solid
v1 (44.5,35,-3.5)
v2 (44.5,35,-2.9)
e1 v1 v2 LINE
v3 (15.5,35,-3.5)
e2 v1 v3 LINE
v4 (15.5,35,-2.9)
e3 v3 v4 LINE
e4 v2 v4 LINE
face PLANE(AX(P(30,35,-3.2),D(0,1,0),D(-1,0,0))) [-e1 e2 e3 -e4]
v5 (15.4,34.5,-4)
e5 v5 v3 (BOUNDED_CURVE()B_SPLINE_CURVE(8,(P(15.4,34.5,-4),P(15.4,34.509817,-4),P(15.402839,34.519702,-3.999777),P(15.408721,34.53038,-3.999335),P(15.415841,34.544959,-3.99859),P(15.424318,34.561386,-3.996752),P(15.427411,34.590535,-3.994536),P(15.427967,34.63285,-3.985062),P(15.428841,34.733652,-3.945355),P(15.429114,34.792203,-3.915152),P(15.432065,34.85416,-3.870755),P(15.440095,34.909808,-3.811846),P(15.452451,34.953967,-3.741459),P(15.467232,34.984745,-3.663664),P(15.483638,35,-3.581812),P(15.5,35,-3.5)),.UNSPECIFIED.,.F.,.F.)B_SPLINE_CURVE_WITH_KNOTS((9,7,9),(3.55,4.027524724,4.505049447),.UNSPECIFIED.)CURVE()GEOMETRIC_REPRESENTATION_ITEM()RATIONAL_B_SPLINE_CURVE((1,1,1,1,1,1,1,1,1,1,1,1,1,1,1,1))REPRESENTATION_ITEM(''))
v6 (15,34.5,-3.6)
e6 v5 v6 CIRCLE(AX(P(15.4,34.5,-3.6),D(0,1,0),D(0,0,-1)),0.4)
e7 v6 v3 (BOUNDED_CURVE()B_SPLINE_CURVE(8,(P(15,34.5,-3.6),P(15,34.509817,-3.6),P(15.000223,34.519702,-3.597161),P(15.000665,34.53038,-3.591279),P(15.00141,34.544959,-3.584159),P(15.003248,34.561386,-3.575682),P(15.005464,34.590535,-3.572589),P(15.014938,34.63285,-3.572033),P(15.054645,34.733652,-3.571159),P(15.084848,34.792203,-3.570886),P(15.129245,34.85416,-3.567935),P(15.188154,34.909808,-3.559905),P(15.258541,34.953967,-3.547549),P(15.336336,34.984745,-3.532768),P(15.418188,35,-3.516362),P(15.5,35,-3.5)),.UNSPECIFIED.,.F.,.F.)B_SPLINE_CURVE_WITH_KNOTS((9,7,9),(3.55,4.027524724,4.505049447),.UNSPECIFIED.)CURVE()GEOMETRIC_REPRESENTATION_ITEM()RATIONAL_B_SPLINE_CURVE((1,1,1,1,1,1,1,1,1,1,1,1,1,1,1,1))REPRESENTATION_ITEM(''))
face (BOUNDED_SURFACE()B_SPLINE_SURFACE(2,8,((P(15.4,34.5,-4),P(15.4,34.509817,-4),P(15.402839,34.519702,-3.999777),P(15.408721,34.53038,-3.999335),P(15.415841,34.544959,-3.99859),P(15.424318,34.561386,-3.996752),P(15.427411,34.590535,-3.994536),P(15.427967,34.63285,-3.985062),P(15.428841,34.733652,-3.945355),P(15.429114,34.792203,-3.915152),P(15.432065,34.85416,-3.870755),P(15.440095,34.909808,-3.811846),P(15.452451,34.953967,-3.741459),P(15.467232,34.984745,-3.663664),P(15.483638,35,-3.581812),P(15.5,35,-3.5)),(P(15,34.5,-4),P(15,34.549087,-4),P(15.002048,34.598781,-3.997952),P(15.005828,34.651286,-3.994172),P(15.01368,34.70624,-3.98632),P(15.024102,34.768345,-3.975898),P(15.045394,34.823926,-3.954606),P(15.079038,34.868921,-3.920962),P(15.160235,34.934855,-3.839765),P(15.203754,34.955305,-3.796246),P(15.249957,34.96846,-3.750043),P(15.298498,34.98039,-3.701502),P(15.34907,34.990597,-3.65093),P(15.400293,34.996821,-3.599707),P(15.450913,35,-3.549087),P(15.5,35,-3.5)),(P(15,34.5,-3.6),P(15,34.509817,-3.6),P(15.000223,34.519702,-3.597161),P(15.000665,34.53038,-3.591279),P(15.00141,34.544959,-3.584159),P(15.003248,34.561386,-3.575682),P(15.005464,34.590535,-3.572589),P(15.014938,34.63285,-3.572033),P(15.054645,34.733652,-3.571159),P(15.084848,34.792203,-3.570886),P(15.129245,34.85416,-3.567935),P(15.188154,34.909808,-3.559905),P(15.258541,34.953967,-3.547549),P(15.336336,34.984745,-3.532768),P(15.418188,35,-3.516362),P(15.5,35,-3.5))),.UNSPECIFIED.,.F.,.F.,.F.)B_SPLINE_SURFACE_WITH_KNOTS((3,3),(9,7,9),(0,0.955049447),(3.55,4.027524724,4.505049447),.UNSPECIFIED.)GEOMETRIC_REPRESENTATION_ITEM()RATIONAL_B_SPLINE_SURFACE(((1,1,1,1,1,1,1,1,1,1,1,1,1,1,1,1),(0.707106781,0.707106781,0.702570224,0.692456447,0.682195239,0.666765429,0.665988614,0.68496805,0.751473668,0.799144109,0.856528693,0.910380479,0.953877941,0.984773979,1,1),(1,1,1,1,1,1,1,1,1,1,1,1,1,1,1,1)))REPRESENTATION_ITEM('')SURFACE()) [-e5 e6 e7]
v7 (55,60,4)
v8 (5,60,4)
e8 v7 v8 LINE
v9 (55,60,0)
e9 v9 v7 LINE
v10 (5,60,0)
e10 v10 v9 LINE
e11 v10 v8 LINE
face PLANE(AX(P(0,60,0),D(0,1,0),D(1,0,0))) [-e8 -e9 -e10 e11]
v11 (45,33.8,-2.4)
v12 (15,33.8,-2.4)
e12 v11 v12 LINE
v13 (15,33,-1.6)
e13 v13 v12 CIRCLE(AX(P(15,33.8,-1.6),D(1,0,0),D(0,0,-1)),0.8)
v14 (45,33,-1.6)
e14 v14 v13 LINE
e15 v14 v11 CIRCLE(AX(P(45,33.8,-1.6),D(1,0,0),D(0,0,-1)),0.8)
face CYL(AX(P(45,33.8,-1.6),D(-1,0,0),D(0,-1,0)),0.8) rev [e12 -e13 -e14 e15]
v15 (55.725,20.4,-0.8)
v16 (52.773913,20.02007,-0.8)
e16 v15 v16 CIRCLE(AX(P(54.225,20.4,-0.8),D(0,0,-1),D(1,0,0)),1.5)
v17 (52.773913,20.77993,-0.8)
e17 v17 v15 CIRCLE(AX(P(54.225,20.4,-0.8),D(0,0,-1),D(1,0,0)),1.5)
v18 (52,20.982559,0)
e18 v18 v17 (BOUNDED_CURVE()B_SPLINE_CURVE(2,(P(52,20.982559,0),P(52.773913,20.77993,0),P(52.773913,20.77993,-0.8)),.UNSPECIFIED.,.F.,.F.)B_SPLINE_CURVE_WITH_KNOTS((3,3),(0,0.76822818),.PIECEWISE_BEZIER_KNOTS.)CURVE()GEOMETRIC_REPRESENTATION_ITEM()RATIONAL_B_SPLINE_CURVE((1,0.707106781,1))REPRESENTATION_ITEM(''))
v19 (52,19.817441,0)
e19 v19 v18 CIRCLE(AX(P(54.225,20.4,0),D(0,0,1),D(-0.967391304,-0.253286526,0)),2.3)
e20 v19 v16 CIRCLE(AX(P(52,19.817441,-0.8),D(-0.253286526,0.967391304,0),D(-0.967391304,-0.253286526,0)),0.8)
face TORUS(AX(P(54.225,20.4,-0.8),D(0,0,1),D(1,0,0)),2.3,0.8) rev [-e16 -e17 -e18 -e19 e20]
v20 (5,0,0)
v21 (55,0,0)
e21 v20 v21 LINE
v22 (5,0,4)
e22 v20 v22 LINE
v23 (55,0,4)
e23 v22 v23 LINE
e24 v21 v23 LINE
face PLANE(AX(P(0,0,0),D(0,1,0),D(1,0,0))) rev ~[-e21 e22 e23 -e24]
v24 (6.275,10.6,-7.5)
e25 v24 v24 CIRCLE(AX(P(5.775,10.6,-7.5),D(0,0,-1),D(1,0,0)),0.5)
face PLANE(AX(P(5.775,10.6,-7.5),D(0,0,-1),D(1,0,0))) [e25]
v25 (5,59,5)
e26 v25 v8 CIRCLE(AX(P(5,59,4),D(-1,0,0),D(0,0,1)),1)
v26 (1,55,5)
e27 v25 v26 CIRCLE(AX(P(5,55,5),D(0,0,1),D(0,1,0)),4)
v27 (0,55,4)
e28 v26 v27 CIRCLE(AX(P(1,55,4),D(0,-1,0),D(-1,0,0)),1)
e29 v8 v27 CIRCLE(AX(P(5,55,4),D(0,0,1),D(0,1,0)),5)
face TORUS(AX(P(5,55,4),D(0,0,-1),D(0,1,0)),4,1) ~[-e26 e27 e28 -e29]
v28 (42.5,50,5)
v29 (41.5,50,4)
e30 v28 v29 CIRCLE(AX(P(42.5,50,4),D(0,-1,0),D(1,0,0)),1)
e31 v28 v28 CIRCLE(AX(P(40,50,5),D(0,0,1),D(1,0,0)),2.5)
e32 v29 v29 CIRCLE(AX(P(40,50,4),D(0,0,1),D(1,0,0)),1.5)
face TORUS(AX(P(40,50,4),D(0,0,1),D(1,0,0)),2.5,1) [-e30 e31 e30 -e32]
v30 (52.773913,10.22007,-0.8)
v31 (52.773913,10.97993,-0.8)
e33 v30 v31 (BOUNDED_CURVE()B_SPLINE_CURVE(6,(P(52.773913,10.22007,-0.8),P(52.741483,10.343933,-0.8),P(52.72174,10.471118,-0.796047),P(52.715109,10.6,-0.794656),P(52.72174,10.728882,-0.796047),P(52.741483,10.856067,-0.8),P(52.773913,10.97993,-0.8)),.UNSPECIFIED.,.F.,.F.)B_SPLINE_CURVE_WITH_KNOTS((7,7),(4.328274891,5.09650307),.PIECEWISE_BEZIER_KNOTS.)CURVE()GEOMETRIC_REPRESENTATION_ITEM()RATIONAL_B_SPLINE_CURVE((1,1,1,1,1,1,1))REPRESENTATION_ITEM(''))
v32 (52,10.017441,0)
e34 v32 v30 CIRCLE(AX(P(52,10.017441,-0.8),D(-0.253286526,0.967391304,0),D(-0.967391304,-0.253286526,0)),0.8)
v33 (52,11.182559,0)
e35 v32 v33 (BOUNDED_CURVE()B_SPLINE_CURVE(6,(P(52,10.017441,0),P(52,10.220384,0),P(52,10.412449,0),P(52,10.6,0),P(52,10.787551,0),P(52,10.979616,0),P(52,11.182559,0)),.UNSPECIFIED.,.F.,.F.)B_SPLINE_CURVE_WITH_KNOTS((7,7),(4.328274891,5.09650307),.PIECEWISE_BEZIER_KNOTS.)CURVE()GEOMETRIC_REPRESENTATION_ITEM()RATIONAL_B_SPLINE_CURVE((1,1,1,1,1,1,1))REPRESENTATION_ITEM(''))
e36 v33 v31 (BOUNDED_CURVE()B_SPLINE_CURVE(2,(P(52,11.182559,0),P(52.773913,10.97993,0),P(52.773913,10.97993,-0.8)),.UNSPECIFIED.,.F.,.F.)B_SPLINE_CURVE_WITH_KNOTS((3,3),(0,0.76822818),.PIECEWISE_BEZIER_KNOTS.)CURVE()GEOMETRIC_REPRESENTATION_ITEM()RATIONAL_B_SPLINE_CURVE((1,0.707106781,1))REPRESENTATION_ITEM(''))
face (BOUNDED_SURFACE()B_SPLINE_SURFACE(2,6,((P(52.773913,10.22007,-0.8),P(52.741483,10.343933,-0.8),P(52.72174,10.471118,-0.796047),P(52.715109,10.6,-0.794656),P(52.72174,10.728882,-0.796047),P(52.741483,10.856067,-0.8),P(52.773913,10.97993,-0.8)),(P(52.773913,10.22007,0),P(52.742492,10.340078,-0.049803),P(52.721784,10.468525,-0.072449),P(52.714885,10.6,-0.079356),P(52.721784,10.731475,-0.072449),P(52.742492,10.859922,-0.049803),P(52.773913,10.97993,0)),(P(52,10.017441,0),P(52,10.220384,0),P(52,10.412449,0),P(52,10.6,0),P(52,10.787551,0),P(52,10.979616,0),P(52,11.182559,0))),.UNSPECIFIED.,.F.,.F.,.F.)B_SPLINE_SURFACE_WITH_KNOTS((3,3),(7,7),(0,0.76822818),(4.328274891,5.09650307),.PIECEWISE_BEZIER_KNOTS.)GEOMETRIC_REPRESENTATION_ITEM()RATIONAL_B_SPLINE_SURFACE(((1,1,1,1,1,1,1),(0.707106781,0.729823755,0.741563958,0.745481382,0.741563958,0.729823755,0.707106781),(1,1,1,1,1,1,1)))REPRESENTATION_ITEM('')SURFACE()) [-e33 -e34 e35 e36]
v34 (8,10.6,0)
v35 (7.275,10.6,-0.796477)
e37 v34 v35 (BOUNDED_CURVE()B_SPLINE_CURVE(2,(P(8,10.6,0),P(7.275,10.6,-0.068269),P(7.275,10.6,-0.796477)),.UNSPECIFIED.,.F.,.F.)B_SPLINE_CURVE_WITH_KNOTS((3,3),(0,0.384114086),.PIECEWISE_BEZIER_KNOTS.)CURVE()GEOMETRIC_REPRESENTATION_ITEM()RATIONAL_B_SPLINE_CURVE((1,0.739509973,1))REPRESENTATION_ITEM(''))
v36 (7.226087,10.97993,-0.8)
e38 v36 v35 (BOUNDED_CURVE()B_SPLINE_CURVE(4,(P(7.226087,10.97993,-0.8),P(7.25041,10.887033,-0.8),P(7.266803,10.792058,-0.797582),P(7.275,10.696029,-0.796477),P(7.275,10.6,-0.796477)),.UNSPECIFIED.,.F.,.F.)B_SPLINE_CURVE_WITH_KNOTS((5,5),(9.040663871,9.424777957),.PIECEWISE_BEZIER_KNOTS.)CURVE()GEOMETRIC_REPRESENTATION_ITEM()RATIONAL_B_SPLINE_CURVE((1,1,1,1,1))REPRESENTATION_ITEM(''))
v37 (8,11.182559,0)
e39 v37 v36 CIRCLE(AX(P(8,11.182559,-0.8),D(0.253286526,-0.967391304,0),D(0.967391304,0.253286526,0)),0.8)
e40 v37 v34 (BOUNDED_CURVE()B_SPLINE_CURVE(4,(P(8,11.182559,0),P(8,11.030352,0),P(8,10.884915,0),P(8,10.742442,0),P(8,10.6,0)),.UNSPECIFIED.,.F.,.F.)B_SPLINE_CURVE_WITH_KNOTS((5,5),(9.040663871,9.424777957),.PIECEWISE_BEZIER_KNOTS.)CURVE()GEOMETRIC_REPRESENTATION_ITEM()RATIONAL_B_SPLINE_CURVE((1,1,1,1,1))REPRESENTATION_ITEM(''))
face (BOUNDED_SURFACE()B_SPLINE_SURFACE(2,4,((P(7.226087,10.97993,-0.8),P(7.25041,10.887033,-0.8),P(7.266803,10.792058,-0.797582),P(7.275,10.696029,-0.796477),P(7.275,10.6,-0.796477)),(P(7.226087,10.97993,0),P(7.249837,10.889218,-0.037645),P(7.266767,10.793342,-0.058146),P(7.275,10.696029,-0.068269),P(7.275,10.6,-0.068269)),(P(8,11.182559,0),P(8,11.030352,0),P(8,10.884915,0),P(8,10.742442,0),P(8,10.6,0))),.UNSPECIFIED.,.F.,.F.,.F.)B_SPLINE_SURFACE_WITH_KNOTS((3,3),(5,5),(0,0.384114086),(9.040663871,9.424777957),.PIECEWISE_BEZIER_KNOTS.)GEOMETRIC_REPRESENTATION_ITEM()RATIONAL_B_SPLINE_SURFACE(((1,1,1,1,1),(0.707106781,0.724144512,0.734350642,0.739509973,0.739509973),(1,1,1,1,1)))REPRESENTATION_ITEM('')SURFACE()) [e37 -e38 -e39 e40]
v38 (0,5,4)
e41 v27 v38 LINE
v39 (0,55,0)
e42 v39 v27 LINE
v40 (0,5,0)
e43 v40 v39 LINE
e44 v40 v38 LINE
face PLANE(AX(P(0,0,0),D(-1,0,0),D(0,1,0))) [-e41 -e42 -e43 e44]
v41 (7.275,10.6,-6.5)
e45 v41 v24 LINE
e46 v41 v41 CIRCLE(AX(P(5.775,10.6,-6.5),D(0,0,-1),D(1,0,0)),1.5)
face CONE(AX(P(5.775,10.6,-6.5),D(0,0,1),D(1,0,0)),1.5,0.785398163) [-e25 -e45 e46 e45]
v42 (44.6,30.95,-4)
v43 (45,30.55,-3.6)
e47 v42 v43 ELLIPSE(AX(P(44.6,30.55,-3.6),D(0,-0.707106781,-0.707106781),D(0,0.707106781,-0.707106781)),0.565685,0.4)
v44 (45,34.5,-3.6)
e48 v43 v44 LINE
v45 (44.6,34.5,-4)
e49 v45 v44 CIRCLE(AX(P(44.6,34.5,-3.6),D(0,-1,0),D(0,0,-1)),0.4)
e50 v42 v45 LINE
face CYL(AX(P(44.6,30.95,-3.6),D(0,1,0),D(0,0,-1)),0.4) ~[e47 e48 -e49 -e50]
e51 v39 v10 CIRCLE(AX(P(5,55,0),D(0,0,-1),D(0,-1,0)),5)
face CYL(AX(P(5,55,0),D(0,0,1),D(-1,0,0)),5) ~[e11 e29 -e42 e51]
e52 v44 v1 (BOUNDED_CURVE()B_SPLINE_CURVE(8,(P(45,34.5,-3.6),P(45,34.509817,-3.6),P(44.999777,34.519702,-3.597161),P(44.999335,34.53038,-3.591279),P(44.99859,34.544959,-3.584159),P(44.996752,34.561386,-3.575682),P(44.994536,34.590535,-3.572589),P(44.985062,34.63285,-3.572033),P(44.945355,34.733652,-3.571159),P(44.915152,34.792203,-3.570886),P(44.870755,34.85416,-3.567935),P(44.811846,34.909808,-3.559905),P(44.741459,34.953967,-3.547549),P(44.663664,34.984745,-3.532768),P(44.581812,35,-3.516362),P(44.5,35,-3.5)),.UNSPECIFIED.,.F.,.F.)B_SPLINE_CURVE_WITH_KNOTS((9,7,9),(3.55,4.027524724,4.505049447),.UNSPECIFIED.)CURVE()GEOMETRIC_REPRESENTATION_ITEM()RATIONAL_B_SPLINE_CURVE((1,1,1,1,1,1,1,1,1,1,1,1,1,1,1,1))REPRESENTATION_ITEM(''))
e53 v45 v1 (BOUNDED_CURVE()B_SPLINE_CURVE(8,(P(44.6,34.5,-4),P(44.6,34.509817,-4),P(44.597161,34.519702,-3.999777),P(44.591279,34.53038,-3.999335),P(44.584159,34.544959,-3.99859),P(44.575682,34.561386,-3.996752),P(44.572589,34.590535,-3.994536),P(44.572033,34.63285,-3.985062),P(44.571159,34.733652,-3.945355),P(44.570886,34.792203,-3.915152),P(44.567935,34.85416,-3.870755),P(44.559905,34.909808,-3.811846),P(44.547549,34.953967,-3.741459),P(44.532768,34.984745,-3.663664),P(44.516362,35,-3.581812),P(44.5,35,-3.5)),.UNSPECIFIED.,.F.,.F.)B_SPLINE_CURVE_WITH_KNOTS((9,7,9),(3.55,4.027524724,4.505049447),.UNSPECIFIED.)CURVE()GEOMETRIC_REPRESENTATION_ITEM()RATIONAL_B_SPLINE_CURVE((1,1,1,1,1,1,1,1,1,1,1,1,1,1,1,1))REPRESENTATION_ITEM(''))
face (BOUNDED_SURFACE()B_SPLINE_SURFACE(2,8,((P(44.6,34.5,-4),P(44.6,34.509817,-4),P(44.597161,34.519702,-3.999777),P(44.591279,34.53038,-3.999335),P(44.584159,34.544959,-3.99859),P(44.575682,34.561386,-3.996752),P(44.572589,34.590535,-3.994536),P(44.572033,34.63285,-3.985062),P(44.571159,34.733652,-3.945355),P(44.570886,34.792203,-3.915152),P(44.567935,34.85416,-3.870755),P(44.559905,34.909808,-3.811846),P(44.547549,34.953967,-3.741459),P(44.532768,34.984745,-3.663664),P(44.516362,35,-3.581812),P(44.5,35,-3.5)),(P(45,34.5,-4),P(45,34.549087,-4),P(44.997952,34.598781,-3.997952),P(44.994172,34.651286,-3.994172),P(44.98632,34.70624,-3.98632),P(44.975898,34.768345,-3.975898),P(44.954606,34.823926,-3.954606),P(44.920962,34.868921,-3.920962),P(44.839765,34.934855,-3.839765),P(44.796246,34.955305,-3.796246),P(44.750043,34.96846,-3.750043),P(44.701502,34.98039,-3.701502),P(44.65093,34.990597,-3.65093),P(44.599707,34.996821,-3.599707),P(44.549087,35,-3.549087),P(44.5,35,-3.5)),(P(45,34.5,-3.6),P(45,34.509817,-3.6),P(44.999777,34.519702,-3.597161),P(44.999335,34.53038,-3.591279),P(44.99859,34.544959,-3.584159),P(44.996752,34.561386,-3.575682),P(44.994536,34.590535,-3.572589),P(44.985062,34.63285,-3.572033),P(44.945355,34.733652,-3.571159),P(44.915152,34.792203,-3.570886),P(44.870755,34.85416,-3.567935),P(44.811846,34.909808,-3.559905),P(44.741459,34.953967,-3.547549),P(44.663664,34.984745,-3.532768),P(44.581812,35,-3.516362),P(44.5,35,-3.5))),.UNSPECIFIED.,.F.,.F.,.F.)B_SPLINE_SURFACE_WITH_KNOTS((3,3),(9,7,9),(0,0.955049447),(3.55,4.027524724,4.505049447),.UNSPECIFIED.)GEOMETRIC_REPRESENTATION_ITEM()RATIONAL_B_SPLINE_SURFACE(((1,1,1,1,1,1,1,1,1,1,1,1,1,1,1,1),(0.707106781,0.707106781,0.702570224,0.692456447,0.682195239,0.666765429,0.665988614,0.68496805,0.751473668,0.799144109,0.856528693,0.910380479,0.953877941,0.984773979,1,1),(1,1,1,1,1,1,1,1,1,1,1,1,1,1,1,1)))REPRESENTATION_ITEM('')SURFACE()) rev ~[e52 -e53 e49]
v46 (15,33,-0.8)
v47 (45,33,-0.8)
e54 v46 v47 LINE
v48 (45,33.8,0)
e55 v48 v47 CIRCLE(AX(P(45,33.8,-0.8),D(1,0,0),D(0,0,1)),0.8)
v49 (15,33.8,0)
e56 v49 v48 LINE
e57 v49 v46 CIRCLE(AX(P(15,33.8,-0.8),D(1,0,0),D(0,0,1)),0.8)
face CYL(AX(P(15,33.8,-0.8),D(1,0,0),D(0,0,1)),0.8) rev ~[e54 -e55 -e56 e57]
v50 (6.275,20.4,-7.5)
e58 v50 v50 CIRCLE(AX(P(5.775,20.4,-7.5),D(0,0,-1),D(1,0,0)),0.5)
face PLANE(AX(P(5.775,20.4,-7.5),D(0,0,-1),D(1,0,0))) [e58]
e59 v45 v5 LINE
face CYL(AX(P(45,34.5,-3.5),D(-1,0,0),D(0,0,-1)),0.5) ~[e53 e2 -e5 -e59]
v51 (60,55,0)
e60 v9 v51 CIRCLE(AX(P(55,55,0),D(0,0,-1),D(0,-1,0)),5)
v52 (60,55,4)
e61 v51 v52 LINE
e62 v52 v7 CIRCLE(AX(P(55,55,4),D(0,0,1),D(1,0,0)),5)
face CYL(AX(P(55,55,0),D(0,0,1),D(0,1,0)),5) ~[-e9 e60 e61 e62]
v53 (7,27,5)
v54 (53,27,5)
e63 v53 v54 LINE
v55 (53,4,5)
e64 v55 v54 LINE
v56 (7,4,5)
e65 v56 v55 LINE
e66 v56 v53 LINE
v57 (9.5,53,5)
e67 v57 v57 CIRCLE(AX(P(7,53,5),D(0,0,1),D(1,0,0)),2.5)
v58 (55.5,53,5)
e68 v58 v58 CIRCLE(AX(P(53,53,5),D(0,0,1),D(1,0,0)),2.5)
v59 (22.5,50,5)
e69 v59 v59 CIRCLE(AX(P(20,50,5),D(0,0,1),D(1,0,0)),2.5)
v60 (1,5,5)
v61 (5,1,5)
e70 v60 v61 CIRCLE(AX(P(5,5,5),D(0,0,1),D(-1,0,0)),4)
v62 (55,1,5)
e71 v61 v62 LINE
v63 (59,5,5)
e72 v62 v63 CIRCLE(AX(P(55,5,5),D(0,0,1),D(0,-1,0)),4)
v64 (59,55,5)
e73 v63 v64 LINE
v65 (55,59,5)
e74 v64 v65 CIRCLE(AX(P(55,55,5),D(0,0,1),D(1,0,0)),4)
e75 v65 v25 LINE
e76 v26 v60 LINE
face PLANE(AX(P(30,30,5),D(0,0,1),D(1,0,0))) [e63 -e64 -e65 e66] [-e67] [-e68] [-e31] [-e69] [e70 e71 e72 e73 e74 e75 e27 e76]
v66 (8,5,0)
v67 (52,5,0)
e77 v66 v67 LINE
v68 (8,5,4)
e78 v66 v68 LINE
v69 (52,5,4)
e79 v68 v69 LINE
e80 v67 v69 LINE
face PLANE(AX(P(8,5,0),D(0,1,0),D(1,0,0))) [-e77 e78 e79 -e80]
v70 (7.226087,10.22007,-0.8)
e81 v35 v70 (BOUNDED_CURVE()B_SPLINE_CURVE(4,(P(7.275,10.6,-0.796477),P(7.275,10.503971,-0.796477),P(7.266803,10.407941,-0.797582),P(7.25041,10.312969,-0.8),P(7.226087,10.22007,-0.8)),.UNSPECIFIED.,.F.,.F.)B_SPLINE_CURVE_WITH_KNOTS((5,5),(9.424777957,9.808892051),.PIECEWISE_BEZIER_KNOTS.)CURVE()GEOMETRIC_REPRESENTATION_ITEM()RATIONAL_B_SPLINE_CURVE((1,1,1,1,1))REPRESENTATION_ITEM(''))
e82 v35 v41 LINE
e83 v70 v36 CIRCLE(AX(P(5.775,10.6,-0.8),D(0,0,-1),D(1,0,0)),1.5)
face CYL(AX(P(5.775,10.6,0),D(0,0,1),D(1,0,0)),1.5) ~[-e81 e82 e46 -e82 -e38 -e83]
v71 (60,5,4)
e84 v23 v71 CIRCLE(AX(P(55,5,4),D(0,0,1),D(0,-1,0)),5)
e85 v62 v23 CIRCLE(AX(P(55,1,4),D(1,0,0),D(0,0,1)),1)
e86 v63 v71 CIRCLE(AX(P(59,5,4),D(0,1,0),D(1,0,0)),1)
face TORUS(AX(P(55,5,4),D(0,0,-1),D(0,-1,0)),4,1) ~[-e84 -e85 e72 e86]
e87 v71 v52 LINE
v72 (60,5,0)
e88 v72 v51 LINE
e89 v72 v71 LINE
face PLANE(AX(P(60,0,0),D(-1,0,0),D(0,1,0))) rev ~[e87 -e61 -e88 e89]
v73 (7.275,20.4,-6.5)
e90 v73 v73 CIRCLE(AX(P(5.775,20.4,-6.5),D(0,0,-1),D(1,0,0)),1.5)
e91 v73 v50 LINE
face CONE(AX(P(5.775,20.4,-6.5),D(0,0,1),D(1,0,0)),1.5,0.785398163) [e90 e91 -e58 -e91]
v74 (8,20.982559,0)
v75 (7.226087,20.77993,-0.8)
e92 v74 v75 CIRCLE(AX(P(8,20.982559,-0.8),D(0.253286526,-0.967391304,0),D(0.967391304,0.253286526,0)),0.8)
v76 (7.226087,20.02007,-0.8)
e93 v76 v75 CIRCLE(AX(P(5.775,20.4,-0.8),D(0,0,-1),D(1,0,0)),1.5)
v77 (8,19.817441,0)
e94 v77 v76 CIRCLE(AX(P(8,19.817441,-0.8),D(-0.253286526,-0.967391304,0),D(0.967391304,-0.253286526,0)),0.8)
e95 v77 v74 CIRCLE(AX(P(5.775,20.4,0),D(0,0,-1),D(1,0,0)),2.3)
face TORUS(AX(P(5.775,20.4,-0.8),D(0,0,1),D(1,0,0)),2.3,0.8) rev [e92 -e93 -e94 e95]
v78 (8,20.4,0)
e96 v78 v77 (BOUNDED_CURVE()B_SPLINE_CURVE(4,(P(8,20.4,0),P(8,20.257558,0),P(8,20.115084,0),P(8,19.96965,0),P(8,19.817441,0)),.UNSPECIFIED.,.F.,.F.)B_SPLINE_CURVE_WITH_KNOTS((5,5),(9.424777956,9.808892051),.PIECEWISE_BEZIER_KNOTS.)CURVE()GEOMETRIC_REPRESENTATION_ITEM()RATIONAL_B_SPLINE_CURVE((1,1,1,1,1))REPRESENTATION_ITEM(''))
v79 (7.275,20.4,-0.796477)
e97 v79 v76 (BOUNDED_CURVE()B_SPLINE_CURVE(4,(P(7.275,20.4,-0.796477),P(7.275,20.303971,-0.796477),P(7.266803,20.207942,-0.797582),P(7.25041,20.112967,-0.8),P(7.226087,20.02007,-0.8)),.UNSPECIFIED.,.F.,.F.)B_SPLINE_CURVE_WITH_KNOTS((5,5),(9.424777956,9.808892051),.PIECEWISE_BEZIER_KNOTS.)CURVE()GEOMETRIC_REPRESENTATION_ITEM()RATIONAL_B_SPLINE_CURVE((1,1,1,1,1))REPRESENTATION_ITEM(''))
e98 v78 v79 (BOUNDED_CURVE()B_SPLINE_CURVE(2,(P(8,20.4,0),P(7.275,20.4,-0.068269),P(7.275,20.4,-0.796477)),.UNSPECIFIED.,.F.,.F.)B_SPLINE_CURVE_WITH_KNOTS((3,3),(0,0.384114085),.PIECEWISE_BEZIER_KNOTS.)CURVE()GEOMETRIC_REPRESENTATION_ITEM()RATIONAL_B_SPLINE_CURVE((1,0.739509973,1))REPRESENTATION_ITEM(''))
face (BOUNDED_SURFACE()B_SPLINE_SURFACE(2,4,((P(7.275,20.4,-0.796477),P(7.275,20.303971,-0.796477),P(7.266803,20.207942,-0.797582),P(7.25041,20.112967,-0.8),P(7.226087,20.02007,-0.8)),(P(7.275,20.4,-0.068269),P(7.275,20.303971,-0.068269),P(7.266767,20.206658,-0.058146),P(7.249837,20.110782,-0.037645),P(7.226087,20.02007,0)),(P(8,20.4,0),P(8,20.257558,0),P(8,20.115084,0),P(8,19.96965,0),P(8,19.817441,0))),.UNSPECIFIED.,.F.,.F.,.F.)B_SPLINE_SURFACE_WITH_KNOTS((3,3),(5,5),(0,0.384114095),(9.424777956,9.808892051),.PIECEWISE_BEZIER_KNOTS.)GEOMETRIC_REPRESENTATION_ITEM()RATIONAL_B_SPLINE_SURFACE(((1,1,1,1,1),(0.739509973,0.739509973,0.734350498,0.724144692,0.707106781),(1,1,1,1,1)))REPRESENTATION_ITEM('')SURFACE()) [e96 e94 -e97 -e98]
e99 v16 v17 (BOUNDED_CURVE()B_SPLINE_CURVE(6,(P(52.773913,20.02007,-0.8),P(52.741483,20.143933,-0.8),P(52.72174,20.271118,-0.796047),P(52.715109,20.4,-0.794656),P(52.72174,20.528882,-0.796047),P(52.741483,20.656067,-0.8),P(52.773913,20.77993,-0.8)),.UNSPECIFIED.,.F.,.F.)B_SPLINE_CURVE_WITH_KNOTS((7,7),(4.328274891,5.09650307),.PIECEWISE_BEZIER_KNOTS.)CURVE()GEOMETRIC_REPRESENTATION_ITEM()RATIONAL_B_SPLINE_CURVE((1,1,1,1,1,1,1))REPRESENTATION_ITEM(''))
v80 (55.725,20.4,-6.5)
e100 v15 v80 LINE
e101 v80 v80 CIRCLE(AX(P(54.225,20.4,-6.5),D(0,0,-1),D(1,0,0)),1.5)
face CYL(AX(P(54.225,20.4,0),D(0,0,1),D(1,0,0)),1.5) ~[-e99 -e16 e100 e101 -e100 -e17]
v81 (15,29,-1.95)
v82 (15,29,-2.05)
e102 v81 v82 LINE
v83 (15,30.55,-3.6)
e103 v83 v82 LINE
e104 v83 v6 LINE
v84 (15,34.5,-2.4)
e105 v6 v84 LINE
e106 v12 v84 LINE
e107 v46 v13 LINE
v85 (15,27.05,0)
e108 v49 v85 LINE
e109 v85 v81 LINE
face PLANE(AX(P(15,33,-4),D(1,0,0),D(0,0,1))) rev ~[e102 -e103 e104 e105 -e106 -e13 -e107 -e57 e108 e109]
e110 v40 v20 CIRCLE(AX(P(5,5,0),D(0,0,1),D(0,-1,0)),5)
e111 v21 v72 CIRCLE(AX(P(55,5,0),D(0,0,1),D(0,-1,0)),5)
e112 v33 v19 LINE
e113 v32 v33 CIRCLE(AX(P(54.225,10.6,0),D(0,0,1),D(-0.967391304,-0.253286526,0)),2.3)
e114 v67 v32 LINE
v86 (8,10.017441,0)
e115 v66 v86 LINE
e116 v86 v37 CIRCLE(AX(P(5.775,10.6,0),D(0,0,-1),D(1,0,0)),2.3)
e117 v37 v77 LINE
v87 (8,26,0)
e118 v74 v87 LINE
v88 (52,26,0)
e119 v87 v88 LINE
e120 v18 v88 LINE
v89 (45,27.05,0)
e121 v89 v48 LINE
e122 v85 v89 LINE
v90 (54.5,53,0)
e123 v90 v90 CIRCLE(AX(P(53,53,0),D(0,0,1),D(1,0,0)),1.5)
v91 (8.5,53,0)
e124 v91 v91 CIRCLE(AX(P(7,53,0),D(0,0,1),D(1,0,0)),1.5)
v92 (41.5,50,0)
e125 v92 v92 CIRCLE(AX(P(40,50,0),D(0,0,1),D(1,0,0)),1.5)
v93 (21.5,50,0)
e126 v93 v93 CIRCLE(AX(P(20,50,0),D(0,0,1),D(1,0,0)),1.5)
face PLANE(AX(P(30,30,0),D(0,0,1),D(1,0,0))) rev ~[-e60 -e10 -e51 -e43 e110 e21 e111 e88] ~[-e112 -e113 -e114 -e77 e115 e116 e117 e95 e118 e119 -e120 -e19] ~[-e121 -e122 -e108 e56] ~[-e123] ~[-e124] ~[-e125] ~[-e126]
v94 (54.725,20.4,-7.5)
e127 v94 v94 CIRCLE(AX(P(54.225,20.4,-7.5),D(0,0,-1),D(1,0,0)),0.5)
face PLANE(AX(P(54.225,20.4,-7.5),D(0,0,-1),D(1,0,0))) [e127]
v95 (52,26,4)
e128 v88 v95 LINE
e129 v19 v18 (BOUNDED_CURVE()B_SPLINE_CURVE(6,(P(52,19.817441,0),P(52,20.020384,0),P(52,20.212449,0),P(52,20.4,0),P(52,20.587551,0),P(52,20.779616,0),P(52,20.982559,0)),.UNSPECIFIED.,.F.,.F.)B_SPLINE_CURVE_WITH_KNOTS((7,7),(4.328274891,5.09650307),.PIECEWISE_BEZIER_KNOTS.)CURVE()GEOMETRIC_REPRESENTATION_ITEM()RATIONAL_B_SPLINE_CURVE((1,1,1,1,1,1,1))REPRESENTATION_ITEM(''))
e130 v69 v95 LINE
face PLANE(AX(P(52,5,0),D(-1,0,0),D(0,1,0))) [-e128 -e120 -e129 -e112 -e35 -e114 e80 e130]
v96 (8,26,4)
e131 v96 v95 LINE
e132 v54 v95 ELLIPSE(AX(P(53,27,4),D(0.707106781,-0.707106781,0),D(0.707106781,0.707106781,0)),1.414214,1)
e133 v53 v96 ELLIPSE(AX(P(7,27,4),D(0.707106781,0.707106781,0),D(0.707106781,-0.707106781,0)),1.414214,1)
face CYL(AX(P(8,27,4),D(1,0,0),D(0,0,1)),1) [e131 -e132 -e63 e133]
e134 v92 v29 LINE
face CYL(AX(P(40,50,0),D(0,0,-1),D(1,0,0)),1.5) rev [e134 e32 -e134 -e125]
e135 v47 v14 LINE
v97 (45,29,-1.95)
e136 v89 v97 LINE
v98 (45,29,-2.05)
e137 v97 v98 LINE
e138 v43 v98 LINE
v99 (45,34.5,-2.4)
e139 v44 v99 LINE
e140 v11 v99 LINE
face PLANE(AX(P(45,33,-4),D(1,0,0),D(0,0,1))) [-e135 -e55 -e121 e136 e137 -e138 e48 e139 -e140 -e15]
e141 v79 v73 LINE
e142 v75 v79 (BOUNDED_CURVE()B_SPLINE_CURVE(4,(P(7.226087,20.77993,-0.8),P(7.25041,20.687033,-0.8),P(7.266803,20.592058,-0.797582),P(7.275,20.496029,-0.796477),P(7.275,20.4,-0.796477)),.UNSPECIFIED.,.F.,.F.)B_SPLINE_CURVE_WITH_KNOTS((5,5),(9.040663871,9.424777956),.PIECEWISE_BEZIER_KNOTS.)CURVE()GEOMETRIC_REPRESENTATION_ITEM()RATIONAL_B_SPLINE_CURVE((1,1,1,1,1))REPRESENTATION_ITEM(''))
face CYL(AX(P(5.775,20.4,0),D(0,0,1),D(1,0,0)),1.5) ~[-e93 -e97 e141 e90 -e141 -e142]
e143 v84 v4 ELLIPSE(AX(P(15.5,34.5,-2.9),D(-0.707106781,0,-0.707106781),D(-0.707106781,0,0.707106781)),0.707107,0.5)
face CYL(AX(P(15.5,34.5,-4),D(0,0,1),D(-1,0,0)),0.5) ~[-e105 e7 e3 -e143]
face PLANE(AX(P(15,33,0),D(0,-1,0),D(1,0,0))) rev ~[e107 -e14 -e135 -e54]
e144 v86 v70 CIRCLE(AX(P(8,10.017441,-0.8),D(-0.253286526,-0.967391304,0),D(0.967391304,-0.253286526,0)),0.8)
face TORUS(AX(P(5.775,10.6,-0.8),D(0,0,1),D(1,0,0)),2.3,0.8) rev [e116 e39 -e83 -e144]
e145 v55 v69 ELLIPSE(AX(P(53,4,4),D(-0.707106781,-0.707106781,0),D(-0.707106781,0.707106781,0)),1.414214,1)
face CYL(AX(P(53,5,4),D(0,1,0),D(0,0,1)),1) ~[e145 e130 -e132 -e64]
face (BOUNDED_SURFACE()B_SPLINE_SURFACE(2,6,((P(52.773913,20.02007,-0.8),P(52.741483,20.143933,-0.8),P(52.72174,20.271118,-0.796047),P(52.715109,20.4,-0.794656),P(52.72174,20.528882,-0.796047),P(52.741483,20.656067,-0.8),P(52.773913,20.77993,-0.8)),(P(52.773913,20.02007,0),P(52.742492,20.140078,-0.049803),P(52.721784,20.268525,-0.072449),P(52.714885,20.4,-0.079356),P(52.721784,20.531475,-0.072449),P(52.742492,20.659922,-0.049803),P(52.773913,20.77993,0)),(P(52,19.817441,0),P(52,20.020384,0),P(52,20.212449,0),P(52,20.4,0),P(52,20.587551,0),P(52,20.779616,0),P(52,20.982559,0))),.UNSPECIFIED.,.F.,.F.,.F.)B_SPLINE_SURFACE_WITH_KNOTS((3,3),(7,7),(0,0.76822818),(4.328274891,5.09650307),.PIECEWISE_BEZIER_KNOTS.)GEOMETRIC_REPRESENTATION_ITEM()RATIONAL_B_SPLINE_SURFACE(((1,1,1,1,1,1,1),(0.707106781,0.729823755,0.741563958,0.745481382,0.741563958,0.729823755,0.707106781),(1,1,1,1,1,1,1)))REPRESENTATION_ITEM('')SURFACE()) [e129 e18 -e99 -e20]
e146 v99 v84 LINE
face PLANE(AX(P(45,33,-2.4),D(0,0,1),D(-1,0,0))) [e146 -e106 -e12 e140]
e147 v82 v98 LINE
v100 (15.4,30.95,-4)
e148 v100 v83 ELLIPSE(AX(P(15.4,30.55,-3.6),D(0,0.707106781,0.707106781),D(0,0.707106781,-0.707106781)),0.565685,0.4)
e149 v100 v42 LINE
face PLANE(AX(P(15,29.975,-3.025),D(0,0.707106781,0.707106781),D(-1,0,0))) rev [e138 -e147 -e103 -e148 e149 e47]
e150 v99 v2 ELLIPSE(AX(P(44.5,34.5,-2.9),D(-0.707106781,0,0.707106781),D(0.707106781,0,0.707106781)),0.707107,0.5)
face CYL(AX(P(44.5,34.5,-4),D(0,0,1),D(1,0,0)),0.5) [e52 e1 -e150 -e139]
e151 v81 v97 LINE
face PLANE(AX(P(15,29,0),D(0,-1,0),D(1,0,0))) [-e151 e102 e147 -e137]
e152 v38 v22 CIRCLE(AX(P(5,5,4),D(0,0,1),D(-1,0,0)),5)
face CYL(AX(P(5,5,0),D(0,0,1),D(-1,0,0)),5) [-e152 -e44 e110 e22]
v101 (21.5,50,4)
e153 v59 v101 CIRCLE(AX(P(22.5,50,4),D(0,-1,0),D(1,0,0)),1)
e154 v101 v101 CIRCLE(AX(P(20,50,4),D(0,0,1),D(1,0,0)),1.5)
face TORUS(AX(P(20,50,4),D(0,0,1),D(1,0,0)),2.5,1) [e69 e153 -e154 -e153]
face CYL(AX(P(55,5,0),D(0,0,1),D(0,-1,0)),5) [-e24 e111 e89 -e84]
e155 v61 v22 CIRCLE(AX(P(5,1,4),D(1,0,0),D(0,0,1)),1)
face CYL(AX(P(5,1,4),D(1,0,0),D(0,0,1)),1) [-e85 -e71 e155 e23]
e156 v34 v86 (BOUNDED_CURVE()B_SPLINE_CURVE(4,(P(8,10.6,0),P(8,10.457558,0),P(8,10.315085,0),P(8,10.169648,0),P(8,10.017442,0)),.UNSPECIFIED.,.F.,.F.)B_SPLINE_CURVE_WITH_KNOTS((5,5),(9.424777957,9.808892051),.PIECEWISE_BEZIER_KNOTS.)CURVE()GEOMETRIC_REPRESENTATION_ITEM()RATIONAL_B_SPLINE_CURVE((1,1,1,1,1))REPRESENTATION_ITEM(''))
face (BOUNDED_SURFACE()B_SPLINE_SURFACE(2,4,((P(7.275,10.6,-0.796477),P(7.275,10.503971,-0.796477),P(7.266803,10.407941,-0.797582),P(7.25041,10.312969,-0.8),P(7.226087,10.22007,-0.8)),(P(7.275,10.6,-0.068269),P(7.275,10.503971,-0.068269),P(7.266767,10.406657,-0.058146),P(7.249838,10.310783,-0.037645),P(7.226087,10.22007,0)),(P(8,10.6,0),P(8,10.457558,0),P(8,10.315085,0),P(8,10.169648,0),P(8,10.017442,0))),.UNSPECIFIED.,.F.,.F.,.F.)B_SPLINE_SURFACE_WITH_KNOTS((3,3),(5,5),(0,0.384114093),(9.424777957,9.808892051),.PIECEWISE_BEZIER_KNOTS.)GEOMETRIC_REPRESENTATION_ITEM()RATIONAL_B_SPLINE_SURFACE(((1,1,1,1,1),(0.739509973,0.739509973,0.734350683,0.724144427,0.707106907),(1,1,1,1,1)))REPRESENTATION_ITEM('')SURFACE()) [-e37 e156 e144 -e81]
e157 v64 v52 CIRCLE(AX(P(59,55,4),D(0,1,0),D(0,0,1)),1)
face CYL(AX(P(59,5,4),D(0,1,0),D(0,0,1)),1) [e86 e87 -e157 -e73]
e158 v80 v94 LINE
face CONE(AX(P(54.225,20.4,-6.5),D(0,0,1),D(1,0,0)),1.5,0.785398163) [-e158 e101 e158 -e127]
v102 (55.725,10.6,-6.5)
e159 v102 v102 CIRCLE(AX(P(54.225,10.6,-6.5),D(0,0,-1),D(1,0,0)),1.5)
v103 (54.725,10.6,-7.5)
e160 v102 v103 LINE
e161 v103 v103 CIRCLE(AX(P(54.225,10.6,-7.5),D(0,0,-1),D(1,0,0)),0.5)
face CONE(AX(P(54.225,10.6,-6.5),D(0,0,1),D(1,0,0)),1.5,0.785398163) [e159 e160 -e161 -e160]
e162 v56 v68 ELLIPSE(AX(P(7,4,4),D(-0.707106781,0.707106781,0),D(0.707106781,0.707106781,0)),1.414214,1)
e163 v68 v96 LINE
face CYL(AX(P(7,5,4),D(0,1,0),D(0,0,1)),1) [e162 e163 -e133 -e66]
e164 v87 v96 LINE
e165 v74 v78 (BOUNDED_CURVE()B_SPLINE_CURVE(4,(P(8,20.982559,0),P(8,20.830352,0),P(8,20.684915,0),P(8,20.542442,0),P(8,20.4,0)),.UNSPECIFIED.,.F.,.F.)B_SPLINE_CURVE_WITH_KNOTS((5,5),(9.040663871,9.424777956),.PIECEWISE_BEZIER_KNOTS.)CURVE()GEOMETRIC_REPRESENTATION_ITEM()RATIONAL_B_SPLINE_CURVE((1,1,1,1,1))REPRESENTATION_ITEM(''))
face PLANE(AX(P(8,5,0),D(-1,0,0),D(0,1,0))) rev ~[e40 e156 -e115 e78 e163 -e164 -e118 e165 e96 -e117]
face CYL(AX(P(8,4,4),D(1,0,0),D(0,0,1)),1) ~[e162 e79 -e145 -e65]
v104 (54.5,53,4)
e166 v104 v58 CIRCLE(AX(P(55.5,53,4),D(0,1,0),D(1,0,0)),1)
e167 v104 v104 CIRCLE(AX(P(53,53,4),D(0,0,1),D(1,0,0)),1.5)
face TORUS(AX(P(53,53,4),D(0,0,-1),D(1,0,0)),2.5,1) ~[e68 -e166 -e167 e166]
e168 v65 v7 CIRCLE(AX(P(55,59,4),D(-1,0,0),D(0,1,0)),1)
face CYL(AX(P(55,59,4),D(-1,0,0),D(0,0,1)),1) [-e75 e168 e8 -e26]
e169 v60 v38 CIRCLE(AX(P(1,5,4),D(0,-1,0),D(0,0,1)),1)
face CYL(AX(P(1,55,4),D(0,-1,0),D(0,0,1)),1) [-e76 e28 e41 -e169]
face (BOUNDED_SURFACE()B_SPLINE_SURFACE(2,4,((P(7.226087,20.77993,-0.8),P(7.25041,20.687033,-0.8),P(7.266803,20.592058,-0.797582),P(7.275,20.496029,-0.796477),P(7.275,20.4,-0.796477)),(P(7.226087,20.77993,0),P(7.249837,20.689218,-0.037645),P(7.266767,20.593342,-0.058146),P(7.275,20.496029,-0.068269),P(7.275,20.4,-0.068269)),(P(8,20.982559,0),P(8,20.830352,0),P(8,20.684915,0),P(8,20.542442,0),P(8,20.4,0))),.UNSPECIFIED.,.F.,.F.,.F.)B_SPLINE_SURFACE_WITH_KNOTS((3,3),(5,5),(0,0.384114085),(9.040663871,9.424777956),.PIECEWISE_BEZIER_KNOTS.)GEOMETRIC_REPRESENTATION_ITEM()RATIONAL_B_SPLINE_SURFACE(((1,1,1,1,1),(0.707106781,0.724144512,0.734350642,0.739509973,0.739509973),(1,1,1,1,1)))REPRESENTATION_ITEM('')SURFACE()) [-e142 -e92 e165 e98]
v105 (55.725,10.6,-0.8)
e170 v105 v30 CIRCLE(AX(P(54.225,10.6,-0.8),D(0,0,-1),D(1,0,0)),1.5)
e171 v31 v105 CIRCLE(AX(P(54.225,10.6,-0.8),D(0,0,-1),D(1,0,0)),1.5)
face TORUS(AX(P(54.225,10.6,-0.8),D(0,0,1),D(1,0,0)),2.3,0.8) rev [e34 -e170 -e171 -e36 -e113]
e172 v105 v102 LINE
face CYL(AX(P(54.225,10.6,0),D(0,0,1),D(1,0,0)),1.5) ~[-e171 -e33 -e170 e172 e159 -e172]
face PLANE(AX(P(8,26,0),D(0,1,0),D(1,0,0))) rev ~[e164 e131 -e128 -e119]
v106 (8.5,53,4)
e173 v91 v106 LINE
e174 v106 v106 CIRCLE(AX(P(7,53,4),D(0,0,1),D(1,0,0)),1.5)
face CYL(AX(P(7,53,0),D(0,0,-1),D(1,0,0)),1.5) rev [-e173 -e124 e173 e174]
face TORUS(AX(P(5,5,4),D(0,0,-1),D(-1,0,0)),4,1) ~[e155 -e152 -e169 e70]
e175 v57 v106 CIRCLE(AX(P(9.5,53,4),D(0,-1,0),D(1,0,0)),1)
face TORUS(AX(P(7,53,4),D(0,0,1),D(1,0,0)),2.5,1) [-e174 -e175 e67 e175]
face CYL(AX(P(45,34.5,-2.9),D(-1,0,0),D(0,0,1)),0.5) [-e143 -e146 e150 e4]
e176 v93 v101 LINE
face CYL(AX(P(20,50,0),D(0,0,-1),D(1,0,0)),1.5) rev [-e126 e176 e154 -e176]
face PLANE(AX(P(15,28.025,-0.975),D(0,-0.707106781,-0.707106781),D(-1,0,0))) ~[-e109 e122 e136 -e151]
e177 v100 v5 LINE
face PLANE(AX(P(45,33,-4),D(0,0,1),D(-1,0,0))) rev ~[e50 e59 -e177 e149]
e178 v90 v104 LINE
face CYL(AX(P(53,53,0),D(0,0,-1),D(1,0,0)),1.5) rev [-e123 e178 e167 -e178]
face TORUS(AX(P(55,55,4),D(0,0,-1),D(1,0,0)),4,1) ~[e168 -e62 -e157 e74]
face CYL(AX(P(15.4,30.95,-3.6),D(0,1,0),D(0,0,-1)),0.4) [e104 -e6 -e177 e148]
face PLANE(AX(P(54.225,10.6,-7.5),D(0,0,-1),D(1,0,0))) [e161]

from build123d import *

# Parameters (mm, degrees)
SKETCH_W        = 60
SKETCH_H        = 60
SKETCH_R        = 1.5
SKETCH_W_2      = 44
SKETCH_H_2      = 21
PAD_DEPTH       = 5
SKETCH001_R     = 1.5
PAD001_DEPTH    = 7.5
CHAMFER_SIZE    = 1
FILLET_R        = 5
SKETCH002_W     = 30
SKETCH002_H     = 4
PAD002_DEPTH    = 4
SKETCH003_W     = 30
SKETCH003_H     = 1.6
PAD003_DEPTH    = 2
FILLET001_R     = 0.5
CHAMFER001_SIZE = 1.95
FILLET002_R     = 1
FILLET003_R     = 0.8
FILLET004_R     = 0.8
FILLET005_R     = 0.4


with BuildPart() as part:
    # Sketch → Pad (new body)
    with BuildSketch(Plane.XY):
        with Locations((30, 30)):
            Rectangle(SKETCH_W, SKETCH_H)
        with Locations((7, 53)):
            Circle(SKETCH_R, mode=Mode.SUBTRACT)
        with Locations((40, 50)):
            Circle(SKETCH_R, mode=Mode.SUBTRACT)
        with Locations((20, 50)):
            Circle(SKETCH_R, mode=Mode.SUBTRACT)
        with Locations((53, 53)):
            Circle(SKETCH_R, mode=Mode.SUBTRACT)
        with Locations((30, 15.5)):
            Rectangle(SKETCH_W_2, SKETCH_H_2, mode=Mode.SUBTRACT)
    extrude(amount=PAD_DEPTH)

    # Sketch001 (on Face13 of Pad) → Pad001 (join)
    with BuildSketch(Plane(origin=(0, 0, 0), x_dir=(1, 0, 0), z_dir=(0, 0, -1))):
        with Locations((5.775, -10.6)):
            Circle(SKETCH001_R)
        with Locations((5.775, -20.4)):
            Circle(SKETCH001_R)
        with Locations((54.225, -10.6)):
            Circle(SKETCH001_R)
        with Locations((54.225, -20.4)):
            Circle(SKETCH001_R)
    extrude(amount=PAD001_DEPTH)

    # Chamfer
    chamfer_edges = [part.edges().sort_by_distance(p)[0] for p in [
        (4.275, 10.6, -7.5),
        (4.275, 20.4, -7.5),
        (52.725, 20.4, -7.5),
        (52.725, 10.6, -7.5),
    ]]
    chamfer(chamfer_edges, length=CHAMFER_SIZE)

    # Fillet
    fillet_edges = [part.edges().sort_by_distance(p)[0] for p in [
        (0, 0, 2.5),
        (60, 0, 2.5),
        (0, 60, 2.5),
        (60, 60, 2.5),
    ]]
    fillet(fillet_edges, radius=FILLET_R)

    # Sketch002 (on Face1 of Fillet) → Pad002 (join)
    with BuildSketch(Plane(origin=(0, 0, 0), x_dir=(1, 0, 0), z_dir=(0, 0, -1))):
        with Locations((30, -31)):
            Rectangle(SKETCH002_W, SKETCH002_H)
    extrude(amount=PAD002_DEPTH)

    # Sketch003 (on Face23 of Pad002) → Pad003 (join)
    with BuildSketch(Plane(origin=(0, 33, 0), x_dir=(-1, 0, 0), z_dir=(0, 1, 0))):
        with Locations((-30, -3.2)):
            Rectangle(SKETCH003_W, SKETCH003_H)
    extrude(amount=PAD003_DEPTH)

    # Fillet001
    fillet001_edges = [part.edges().sort_by_distance(p)[0] for p in [
        (30, 35, -4),
        (45, 35, -3.2),
        (30, 35, -2.4),
        (15, 35, -3.2),
    ]]
    fillet(fillet001_edges, radius=FILLET001_R)

    # Chamfer001
    chamfer001_edges = [part.edges().sort_by_distance(p)[0] for p in [
        (30, 29, -4),
        (30, 29, 0),
    ]]
    chamfer(chamfer001_edges, length=CHAMFER001_SIZE)

    # Fillet002
    fillet002_edges = [part.edges().sort_by_distance(p)[0] for p in [
        (30, 0, 5),
        (1.464466, 1.464466, 5),
        (58.535534, 1.464466, 5),
        (0, 30, 5),
        (60, 30, 5),
        (1.464466, 58.535534, 5),
        (58.535534, 58.535534, 5),
        (30, 60, 5),
        (30, 26, 5),
        (52, 15.5, 5),
        (30, 5, 5),
        (8, 15.5, 5),
        (51.5, 53, 5),
        (18.5, 50, 5),
        (38.5, 50, 5),
        (5.5, 53, 5),
    ]]
    fillet(fillet002_edges, radius=FILLET002_R)

    # Fillet003
    fillet003_edges = [part.edges().sort_by_distance(p)[0] for p in [
        (30, 33, -2.4),
        (30, 33, 0),
    ]]
    fillet(fillet003_edges, radius=FILLET003_R)

    # Fillet004
    fillet004_edges = [part.edges().sort_by_distance(p)[0] for p in [
        (52.725, 20.4, 0),
        (52.725, 10.6, 0),
        (4.275, 20.4, 0),
        (4.275, 10.6, 0),
    ]]
    fillet(fillet004_edges, radius=FILLET004_R)

    # Fillet005
    fillet005_edges = [part.edges().sort_by_distance(p)[0] for p in [
        (45, 33.75, -4),
        (45, 31.975, -4),
        (15, 31.975, -4),
        (15, 33.75, -4),
    ]]
    fillet(fillet005_edges, radius=FILLET005_R)


solid = part.part
